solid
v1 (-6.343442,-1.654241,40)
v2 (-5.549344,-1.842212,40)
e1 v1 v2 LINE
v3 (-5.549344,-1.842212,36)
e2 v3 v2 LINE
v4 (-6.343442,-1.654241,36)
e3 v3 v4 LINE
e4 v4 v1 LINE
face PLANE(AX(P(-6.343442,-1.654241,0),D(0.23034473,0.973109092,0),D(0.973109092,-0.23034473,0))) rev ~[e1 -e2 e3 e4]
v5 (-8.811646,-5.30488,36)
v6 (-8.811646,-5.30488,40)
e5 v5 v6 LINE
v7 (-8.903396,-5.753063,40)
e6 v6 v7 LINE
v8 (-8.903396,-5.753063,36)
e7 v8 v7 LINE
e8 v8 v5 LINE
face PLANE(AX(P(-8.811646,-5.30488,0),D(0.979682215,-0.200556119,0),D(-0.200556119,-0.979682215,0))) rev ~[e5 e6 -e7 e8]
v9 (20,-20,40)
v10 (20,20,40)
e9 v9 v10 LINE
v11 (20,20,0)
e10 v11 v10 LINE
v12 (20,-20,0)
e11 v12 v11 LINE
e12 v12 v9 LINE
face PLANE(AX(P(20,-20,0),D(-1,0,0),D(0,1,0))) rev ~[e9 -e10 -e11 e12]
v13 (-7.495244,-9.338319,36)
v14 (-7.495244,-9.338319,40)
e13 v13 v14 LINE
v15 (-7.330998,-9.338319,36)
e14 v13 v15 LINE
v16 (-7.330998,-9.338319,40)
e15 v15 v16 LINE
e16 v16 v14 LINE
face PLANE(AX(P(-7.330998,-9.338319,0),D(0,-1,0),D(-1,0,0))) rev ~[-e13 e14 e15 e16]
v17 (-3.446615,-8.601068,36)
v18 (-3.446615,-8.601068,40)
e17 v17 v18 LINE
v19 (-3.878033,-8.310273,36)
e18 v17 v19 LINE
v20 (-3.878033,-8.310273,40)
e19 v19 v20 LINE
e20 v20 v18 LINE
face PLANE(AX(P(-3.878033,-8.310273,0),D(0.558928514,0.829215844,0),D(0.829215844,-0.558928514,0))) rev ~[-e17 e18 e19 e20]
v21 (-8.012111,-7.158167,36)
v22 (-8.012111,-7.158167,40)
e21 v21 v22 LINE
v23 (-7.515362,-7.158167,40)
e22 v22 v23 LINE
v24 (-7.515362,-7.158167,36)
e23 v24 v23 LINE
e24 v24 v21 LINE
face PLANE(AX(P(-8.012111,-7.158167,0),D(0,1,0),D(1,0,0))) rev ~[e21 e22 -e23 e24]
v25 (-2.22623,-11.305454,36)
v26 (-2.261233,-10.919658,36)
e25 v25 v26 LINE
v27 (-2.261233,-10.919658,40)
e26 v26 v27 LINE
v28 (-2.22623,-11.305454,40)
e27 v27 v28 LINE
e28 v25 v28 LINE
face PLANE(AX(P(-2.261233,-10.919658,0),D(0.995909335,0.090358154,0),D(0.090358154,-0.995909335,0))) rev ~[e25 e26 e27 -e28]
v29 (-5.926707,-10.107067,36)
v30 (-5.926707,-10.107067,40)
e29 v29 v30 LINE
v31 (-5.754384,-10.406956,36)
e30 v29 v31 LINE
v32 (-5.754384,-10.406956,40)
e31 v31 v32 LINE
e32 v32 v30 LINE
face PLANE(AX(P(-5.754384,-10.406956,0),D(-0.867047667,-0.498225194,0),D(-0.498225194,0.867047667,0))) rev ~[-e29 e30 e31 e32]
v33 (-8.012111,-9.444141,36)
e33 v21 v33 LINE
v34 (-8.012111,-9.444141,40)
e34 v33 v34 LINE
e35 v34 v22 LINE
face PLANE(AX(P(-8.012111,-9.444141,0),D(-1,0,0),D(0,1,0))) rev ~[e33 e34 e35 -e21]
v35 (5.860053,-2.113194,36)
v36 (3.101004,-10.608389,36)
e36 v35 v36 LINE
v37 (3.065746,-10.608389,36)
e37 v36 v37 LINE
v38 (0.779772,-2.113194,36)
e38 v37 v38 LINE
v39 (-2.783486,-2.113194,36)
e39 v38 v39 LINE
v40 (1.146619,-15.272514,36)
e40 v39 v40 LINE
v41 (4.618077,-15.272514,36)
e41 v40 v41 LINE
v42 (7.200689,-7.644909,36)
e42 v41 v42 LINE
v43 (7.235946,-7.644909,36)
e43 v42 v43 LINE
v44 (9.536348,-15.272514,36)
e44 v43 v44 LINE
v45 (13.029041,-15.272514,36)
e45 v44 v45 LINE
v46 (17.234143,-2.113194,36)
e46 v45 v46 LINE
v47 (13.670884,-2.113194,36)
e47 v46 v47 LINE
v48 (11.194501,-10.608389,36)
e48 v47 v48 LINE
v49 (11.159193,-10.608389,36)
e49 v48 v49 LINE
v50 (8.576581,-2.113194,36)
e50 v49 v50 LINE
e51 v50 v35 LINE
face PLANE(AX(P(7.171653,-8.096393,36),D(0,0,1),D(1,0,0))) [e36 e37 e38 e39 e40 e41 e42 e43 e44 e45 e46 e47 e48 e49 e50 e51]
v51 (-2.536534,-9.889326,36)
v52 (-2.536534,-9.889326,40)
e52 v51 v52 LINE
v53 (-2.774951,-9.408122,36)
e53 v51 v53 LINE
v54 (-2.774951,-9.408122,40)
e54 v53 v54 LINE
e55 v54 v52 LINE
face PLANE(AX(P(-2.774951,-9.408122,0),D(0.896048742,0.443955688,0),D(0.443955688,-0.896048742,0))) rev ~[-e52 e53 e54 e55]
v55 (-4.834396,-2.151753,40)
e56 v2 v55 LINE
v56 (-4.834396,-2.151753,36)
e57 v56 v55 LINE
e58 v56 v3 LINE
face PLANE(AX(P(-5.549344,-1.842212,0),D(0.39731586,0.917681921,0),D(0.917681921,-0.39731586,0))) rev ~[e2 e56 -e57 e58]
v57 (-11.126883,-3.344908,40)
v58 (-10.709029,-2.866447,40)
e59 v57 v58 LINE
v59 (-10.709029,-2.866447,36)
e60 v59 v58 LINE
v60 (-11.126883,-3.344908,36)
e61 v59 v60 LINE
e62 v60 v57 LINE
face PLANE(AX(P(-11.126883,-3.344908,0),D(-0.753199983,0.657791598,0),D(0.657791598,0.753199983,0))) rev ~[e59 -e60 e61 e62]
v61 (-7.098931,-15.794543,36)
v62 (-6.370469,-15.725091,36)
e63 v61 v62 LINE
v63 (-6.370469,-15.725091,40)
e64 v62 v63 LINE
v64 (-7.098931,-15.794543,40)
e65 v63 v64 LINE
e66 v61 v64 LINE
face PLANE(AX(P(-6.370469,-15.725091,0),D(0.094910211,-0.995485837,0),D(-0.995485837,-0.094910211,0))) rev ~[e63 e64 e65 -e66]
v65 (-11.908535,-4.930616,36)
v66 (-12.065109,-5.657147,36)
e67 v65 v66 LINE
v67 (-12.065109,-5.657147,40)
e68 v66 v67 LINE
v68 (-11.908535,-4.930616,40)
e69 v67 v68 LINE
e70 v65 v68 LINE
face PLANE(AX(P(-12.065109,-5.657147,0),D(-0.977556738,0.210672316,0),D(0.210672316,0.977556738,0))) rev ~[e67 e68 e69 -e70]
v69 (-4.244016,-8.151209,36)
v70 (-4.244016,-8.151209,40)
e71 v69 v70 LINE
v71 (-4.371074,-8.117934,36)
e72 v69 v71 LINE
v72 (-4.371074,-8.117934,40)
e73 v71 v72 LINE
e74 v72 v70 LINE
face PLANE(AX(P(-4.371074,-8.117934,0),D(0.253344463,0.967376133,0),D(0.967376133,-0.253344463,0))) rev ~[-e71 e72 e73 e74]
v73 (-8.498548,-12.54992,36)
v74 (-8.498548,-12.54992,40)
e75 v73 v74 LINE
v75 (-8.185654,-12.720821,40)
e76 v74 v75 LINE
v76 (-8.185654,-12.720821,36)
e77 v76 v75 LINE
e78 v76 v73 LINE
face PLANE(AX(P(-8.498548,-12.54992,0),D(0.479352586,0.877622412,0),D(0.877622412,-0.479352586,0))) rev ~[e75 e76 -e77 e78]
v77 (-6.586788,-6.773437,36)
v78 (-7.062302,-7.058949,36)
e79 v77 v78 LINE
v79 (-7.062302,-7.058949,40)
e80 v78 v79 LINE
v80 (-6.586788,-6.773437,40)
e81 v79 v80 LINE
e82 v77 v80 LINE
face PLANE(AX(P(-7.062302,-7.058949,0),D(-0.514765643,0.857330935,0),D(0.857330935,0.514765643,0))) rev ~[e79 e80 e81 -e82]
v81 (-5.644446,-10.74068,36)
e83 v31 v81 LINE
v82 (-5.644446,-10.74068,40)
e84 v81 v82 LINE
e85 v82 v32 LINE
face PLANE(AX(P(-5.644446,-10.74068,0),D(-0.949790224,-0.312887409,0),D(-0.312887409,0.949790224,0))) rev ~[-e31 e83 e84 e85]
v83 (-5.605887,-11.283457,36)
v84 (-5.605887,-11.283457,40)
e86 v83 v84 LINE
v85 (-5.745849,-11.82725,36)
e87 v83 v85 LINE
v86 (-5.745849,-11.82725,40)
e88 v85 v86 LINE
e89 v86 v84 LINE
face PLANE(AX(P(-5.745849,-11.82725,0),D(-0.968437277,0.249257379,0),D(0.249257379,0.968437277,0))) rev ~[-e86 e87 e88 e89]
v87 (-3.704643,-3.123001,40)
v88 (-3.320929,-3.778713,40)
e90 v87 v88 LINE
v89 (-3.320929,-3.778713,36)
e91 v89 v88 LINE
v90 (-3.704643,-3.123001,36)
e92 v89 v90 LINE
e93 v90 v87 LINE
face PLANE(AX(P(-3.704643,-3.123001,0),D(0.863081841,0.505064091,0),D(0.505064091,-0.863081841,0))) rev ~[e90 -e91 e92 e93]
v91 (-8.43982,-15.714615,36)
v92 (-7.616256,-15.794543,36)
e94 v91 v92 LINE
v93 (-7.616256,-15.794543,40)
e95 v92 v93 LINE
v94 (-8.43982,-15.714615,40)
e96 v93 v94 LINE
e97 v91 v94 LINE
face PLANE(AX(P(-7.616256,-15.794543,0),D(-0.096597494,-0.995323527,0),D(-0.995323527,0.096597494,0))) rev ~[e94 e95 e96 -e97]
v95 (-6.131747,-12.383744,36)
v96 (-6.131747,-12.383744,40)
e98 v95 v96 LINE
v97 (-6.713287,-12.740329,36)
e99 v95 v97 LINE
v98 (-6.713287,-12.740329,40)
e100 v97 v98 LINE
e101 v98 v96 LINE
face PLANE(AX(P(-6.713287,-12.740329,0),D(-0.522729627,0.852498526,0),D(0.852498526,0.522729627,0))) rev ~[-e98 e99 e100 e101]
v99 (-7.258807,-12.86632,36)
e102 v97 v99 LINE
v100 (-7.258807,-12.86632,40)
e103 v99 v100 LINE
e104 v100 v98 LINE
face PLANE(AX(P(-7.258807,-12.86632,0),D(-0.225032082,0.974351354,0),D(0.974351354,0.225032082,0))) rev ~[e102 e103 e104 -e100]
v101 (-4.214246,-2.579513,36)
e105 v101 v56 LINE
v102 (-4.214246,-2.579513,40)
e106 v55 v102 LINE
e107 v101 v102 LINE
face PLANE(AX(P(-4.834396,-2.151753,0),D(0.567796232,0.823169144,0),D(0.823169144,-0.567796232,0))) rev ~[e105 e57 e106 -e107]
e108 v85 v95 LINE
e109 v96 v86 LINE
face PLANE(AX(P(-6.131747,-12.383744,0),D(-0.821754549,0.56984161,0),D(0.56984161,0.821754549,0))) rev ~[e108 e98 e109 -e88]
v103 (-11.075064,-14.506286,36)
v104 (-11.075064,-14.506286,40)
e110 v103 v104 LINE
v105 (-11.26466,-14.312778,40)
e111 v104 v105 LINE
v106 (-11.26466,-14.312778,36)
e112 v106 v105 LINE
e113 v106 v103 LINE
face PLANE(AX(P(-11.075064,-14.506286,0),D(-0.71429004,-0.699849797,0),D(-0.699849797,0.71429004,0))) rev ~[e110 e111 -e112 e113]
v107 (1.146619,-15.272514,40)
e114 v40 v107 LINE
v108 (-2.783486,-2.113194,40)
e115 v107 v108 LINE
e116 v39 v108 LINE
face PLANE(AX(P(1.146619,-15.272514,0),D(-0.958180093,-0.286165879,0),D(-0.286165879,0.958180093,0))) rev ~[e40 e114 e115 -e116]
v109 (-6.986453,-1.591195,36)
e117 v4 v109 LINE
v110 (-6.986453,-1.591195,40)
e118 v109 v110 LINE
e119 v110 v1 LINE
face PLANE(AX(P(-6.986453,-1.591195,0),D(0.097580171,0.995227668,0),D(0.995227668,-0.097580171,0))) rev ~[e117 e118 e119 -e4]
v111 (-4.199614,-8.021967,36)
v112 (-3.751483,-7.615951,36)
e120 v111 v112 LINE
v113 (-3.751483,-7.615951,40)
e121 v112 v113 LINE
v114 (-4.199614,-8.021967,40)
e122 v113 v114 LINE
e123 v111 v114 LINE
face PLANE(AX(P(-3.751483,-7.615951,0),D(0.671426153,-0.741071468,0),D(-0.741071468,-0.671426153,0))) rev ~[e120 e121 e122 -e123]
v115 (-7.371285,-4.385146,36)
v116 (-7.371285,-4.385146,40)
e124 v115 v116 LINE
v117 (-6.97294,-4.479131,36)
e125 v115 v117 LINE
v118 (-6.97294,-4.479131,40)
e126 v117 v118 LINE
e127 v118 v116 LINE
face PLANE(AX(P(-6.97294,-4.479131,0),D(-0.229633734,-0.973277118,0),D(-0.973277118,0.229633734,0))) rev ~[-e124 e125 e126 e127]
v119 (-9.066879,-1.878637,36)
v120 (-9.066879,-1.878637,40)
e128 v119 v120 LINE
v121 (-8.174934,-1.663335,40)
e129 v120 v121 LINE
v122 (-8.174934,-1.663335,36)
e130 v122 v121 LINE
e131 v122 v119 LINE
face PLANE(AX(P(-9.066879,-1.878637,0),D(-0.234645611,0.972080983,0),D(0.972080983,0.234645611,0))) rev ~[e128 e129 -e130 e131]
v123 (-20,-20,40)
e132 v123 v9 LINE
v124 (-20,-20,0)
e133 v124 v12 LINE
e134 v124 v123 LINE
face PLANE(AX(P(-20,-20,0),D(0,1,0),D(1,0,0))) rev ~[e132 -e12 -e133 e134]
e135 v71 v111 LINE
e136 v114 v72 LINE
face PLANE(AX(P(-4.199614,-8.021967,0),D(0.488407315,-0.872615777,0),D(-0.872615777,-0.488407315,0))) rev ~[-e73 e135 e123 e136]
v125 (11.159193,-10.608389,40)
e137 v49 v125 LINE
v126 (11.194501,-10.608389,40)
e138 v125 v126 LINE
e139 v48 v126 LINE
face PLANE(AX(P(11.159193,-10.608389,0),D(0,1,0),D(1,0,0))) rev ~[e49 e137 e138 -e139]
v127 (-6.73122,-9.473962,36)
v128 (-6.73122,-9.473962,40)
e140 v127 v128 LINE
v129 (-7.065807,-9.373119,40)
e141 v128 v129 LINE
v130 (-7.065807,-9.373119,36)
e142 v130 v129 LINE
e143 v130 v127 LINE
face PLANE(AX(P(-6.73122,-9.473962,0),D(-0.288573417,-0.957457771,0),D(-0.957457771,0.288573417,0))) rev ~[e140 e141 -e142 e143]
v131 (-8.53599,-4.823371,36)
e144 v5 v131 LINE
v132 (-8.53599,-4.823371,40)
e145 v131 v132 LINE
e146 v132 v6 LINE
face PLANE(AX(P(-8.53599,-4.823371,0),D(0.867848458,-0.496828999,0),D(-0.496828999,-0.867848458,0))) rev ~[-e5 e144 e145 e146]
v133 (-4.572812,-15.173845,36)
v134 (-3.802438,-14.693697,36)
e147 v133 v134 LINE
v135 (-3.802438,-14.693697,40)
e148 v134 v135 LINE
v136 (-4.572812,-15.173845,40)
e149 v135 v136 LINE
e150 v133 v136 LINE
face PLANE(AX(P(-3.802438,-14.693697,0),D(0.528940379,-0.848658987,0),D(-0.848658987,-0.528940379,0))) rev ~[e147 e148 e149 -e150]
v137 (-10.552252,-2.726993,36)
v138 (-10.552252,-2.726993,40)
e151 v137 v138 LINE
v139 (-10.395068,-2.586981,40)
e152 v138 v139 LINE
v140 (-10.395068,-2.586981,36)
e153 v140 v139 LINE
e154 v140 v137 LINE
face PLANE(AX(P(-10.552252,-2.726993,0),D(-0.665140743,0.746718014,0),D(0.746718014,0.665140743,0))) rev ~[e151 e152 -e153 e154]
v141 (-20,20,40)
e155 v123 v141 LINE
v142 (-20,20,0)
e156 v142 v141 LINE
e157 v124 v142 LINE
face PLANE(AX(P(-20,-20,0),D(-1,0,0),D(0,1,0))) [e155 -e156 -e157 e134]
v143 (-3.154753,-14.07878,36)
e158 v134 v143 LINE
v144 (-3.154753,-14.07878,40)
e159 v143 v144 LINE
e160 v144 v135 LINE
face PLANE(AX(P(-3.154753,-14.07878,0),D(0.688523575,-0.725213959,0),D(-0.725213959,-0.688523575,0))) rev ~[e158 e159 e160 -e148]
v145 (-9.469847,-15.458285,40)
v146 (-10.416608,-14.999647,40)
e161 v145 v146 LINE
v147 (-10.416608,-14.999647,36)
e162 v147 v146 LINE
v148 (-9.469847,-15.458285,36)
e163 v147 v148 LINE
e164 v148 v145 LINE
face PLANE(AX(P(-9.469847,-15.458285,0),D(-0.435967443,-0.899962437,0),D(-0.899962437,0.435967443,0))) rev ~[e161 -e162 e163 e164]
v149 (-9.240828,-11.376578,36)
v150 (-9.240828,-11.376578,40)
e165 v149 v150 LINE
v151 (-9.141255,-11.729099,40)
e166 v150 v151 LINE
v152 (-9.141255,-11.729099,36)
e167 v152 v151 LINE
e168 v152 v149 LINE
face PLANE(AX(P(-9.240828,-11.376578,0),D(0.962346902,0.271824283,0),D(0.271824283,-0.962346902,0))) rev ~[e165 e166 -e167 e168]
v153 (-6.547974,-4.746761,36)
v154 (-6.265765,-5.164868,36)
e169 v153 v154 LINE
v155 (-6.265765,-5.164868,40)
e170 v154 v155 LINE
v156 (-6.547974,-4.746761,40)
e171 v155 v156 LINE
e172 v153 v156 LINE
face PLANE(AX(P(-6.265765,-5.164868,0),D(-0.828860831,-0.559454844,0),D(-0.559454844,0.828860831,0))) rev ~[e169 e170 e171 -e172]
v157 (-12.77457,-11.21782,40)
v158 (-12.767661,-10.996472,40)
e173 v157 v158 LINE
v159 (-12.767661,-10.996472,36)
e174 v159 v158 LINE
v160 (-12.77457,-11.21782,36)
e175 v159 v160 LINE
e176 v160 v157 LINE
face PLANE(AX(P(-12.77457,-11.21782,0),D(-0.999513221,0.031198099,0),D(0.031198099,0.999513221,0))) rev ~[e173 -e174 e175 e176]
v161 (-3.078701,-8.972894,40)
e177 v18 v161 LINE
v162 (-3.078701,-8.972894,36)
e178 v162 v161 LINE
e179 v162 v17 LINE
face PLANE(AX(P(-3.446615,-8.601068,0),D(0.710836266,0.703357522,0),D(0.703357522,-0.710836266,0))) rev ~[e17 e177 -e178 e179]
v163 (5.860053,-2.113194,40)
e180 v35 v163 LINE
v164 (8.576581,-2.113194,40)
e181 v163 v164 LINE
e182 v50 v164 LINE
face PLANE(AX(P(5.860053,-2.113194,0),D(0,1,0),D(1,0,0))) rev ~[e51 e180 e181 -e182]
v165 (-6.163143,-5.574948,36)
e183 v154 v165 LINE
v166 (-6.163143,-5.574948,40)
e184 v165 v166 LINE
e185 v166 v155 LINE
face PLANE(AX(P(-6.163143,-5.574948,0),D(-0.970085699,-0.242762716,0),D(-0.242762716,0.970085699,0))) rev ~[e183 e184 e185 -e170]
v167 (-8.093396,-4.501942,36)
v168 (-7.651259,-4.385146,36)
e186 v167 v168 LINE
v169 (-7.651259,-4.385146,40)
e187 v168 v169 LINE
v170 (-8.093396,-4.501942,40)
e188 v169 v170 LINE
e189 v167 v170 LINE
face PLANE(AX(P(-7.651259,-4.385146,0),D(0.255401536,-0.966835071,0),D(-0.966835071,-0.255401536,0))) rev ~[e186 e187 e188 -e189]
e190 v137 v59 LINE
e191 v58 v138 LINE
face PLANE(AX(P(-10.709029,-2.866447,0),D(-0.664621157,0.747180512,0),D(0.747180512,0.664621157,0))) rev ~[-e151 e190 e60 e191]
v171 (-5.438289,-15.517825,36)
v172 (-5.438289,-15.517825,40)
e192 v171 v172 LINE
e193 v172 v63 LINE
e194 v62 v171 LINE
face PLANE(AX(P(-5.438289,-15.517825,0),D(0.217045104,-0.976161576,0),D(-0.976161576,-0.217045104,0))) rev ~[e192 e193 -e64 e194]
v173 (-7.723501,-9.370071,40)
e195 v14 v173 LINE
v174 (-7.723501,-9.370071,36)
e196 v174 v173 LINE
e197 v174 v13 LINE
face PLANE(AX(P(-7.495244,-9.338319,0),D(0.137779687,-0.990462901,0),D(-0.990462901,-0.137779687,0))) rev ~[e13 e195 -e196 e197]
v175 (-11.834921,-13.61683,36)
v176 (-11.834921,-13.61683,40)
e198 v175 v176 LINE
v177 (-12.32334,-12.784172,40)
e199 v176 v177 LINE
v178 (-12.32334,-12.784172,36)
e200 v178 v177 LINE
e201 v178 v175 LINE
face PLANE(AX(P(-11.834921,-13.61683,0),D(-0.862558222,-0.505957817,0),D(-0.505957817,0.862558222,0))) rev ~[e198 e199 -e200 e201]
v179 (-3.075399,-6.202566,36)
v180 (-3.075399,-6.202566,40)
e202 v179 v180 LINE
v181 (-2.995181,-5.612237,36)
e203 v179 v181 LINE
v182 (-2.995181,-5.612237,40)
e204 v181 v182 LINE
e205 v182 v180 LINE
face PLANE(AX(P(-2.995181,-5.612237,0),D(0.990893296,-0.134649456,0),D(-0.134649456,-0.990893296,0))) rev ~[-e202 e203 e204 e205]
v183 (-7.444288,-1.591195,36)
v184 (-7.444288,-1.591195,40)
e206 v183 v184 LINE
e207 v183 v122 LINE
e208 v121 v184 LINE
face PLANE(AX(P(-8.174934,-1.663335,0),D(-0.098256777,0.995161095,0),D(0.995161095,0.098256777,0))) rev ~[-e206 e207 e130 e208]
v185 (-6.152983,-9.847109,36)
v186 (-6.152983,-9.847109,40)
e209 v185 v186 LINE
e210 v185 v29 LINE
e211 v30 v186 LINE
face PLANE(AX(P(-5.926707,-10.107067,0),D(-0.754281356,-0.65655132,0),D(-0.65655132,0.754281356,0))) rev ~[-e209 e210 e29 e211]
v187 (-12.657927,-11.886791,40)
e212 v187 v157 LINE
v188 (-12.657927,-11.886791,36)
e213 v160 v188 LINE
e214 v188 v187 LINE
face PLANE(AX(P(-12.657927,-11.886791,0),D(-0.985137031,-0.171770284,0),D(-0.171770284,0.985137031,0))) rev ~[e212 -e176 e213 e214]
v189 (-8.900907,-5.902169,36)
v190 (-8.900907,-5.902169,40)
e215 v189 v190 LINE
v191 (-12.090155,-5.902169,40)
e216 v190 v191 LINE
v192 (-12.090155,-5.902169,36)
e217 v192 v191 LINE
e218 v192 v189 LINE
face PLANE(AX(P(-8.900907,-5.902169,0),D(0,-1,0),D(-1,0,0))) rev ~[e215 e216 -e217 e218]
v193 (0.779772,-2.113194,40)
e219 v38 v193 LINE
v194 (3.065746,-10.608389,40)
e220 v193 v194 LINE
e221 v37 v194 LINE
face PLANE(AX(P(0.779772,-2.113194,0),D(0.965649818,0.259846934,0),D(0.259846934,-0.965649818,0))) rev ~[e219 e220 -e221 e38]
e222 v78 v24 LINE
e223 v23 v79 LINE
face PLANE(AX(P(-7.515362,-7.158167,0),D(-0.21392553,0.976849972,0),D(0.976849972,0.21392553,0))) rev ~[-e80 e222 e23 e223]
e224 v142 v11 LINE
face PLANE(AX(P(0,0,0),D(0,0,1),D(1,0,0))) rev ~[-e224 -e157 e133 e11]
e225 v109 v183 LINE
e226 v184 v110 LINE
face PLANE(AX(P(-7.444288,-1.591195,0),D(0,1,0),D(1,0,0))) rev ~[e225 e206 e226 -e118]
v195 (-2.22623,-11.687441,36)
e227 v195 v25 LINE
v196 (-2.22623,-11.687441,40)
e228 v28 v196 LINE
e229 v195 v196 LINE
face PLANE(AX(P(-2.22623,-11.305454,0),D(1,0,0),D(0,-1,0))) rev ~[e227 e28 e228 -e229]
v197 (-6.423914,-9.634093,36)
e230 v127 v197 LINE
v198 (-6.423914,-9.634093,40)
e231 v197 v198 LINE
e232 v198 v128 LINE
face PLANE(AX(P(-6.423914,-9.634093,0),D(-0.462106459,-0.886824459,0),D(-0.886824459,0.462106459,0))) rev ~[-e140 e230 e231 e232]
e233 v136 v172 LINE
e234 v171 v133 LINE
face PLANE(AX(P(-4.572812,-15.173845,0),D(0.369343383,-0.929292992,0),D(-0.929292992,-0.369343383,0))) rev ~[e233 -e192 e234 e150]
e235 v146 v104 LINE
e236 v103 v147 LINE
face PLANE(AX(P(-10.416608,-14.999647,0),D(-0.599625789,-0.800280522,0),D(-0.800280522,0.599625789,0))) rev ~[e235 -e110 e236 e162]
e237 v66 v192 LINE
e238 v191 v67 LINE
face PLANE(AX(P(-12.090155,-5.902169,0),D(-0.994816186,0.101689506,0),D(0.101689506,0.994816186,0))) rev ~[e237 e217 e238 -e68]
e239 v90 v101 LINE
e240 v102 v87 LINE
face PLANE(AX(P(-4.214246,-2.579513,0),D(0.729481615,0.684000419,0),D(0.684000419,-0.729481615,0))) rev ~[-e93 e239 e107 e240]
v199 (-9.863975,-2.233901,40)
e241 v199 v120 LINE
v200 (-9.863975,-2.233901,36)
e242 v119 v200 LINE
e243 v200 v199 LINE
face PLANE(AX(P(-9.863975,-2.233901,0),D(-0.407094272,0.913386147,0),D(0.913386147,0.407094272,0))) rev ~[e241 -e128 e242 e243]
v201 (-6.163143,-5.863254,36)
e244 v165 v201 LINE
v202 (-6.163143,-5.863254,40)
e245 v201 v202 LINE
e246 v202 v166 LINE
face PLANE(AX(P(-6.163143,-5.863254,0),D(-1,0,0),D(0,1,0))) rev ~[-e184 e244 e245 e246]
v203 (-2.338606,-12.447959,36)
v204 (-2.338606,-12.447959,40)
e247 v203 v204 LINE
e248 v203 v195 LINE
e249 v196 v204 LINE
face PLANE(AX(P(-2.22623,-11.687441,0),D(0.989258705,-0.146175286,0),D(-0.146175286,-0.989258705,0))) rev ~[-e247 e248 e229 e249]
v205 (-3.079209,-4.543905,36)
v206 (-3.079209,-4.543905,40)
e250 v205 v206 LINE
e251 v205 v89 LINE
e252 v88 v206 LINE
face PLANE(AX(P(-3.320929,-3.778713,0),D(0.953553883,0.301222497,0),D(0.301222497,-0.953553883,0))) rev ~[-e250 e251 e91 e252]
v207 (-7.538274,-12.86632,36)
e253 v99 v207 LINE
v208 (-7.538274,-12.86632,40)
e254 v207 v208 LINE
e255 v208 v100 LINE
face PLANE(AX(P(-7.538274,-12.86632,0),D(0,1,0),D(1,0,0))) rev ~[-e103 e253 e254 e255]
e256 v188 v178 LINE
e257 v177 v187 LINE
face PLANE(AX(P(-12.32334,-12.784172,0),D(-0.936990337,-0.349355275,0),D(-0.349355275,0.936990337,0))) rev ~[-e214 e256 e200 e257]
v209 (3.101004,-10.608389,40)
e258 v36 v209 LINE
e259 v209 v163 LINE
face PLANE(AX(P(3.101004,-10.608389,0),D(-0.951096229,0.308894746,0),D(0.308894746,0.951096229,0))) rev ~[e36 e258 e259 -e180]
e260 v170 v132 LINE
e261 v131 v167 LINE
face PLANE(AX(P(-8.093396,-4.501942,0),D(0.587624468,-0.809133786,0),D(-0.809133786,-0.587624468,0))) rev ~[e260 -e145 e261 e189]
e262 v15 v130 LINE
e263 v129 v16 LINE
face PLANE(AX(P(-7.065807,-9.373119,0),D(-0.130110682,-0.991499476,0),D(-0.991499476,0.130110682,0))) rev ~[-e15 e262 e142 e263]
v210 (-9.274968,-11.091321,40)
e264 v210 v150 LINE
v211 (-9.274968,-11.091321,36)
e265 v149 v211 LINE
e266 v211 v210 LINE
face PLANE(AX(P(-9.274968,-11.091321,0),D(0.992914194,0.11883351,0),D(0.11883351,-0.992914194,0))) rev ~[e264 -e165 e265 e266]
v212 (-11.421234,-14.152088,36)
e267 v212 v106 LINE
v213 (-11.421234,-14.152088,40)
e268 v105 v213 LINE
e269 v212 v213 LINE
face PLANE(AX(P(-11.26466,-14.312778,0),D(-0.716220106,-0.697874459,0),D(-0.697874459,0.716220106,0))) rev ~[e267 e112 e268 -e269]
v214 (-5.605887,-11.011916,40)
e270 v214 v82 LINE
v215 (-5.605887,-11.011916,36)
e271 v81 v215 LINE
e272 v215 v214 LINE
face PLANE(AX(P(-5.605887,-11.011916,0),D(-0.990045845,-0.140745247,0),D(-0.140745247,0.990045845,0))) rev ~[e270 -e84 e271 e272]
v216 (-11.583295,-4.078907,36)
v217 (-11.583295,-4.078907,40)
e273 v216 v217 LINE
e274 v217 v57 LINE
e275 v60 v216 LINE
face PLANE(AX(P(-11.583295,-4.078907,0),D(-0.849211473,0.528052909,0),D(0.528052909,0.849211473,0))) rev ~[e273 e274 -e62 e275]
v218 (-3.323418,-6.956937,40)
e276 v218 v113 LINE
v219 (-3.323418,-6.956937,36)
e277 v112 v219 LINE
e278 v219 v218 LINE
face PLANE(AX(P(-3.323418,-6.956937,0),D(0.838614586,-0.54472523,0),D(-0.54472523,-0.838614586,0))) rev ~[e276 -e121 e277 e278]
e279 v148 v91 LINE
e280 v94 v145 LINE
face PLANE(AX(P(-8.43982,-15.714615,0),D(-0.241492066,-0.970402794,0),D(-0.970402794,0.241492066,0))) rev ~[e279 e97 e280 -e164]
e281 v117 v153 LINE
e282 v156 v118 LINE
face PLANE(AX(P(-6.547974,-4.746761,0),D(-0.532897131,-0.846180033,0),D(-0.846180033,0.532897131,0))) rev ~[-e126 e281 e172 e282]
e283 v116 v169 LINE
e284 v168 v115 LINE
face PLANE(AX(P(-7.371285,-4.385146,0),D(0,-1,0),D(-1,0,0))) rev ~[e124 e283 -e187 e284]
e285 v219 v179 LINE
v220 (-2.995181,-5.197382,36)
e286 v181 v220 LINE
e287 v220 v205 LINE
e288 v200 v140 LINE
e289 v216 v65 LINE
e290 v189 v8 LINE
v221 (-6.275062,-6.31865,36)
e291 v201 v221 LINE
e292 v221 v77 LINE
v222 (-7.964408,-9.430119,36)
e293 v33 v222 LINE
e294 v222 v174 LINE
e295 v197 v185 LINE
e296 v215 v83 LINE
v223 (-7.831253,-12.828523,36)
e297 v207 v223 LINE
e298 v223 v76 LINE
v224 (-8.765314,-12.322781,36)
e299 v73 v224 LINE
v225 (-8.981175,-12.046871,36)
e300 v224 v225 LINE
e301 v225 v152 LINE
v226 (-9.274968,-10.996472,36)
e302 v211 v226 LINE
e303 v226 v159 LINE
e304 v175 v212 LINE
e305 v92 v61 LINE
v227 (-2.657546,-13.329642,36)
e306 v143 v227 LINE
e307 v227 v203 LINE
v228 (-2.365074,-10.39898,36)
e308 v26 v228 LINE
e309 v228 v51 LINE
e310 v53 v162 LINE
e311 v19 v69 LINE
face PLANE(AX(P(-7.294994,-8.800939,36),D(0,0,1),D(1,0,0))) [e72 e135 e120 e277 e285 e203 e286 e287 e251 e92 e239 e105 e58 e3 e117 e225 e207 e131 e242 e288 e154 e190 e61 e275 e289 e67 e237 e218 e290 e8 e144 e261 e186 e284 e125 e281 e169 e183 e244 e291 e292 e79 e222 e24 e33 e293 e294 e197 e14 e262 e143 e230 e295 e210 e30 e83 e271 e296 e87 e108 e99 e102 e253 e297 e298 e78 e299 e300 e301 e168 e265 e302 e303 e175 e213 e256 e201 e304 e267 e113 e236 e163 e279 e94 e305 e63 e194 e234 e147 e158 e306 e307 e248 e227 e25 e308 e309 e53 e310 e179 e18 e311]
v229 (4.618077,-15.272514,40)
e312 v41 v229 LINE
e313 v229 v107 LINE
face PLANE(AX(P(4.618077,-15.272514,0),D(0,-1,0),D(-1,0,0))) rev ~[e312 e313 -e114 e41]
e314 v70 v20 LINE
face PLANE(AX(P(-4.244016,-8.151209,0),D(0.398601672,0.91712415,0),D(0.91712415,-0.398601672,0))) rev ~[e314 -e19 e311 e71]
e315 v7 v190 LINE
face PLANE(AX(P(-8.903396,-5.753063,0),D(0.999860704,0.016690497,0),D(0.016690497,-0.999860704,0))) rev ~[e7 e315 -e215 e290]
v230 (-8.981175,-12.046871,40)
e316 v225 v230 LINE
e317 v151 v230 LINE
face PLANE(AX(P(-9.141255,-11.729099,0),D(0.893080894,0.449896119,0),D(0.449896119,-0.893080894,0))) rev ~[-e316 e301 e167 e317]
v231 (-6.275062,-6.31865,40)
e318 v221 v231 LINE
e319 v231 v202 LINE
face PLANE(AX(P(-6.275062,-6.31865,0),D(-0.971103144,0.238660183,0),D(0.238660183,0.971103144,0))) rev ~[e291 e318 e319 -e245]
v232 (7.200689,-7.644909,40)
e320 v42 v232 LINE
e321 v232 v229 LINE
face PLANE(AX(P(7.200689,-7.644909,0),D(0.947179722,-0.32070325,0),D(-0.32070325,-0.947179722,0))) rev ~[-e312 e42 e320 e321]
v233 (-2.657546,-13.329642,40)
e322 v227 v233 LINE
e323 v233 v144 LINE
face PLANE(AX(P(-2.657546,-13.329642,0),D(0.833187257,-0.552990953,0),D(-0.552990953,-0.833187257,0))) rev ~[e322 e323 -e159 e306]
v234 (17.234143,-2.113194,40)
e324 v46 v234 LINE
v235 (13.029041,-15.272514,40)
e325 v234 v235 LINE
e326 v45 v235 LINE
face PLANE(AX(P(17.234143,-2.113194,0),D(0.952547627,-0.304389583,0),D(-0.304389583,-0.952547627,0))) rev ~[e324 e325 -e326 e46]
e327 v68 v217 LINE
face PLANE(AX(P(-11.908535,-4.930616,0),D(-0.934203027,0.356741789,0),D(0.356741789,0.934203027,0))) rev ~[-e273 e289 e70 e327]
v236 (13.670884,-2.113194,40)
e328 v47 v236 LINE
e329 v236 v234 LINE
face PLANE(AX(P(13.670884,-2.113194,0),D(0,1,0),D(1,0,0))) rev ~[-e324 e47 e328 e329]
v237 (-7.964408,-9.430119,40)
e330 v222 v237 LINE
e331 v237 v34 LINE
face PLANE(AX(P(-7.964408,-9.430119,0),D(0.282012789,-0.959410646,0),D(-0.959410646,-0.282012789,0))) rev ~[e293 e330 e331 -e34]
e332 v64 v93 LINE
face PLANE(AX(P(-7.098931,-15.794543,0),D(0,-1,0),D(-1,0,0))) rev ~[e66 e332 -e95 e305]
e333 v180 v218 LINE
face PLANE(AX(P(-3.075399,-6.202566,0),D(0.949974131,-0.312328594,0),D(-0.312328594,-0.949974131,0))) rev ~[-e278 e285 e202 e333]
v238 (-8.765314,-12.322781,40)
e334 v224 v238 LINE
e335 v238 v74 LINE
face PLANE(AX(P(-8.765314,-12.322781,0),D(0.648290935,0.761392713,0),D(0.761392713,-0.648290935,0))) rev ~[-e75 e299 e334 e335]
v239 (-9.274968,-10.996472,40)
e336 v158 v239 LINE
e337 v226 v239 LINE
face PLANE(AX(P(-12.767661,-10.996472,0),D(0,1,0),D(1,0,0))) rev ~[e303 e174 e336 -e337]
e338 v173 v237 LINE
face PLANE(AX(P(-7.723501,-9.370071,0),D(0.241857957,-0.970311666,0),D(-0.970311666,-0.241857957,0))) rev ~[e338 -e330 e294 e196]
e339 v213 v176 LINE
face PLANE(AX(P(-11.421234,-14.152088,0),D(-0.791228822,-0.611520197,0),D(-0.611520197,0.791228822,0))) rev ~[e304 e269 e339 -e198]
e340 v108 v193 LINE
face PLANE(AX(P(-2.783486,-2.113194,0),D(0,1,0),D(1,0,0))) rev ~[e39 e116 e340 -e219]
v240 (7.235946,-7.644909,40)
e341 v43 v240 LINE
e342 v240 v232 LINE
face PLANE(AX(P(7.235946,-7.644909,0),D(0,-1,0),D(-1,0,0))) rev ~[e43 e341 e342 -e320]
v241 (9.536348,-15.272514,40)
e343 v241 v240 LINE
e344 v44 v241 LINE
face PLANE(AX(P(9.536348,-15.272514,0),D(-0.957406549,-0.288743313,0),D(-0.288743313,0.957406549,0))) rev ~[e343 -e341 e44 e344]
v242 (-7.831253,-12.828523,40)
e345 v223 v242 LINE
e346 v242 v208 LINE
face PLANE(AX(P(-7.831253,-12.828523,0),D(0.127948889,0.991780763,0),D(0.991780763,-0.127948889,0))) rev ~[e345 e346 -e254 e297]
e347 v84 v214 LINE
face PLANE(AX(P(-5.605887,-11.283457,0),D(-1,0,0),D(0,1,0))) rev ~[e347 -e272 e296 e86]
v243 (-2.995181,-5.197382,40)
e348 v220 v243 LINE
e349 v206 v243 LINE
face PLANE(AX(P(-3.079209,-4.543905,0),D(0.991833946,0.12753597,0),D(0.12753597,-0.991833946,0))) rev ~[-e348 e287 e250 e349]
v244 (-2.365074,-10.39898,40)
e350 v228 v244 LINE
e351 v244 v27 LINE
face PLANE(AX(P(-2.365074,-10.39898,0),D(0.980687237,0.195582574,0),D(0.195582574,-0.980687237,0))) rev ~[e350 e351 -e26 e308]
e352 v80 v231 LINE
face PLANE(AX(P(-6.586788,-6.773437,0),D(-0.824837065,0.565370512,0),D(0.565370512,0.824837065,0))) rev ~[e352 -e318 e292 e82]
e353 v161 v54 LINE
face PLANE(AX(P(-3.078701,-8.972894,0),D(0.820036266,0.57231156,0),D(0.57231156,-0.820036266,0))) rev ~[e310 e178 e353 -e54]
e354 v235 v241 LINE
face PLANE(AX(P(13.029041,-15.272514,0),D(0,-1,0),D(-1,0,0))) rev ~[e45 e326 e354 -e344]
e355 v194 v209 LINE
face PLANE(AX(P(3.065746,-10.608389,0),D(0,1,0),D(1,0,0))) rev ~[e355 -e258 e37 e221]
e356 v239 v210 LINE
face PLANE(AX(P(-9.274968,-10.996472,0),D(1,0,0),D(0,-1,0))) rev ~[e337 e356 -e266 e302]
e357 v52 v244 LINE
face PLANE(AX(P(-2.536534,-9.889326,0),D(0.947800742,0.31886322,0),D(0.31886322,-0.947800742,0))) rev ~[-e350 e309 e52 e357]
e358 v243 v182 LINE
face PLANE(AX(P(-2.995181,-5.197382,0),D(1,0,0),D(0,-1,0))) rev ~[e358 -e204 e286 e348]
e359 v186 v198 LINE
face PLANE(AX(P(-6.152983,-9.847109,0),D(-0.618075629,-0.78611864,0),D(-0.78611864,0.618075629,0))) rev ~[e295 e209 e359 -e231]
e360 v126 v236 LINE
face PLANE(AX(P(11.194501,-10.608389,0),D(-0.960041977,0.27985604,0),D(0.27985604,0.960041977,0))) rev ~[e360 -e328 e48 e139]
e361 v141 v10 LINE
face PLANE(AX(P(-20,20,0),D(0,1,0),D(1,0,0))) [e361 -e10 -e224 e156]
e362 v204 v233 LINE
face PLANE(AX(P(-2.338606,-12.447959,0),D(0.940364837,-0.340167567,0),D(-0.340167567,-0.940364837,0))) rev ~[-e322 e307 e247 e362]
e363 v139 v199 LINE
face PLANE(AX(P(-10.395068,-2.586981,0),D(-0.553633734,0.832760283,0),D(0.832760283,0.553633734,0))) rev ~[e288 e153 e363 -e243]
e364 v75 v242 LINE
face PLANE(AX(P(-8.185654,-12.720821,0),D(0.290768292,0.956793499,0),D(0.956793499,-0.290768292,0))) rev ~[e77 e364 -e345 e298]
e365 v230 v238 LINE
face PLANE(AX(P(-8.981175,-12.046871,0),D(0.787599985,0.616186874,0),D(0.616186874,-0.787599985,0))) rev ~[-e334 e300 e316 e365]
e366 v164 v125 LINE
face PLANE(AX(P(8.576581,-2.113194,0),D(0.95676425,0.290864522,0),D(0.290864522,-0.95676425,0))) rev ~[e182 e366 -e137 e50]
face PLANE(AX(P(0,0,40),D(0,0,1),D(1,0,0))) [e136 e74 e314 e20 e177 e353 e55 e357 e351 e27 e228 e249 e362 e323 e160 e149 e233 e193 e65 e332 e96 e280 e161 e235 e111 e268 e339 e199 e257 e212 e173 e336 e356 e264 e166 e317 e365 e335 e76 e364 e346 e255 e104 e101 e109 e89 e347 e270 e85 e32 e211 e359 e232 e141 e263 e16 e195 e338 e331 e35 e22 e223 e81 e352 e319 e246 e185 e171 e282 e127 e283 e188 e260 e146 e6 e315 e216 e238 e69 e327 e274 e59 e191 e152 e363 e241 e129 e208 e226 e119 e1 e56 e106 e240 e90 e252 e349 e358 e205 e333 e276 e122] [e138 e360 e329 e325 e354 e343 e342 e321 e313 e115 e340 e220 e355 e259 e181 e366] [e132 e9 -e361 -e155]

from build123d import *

# Parameters (mm, degrees)
F1_DEPTH = 36
F0_W     = 40
F0_H     = 40
F2_DEPTH = 40


with BuildPart() as f1:
    # F0 (on Top) → F1 (new body)
    with BuildSketch(Plane.XY):
        Polygon((3.101004, -10.608389), (3.065746, -10.608389), (0.779772, -2.113194), (-2.783486, -2.113194), (1.146619, -15.272514), (4.618077, -15.272514), (7.200689, -7.644909), (7.235946, -7.644909), (9.536348, -15.272514), (13.029041, -15.272514), (17.234143, -2.113194), (13.670884, -2.113194), (11.194501, -10.608389), (11.159193, -10.608389), (8.576581, -2.113194), (5.860053, -2.113194), align=None)
        Polygon((-12.065109, -5.657147), (-12.090155, -5.902169), (-8.900907, -5.902169), (-8.903396, -5.753063), (-8.811646, -5.30488), (-8.53599, -4.823371), (-8.093396, -4.501942), (-7.651259, -4.385146), (-7.503778, -4.385146), (-7.371285, -4.385146), (-6.97294, -4.479131), (-6.547974, -4.746761), (-6.265765, -5.164868), (-6.163143, -5.574948), (-6.163143, -5.711709), (-6.163143, -5.863254), (-6.275062, -6.31865), (-6.586788, -6.773437), (-7.062302, -7.058949), (-7.515362, -7.158167), (-7.666144, -7.158167), (-8.012111, -7.158167), (-8.012111, -9.444141), (-7.964408, -9.430119), (-7.723501, -9.370071), (-7.495244, -9.338319), (-7.419192, -9.338319), (-7.330998, -9.338319), (-7.065807, -9.373119), (-6.73122, -9.473962), (-6.423914, -9.634093), (-6.152983, -9.847109), (-5.926707, -10.107067), (-5.754384, -10.406956), (-5.644446, -10.74068), (-5.605887, -11.011916), (-5.605887, -11.102294), (-5.605887, -11.283457), (-5.745849, -11.82725), (-6.131747, -12.383744), (-6.713287, -12.740329), (-7.258807, -12.86632), (-7.440427, -12.86632), (-7.538274, -12.86632), (-7.831253, -12.828523), (-8.185654, -12.720821), (-8.498548, -12.54992), (-8.765314, -12.322781), (-8.981175, -12.046871), (-9.141255, -11.729099), (-9.240828, -11.376578), (-9.274968, -11.091321), (-9.274968, -10.996472), (-12.767661, -10.996472), (-12.77457, -11.21782), (-12.657927, -11.886791), (-12.32334, -12.784172), (-11.834921, -13.61683), (-11.421234, -14.152088), (-11.26466, -14.312778), (-11.075064, -14.506286), (-10.416608, -14.999647), (-9.469847, -15.458285), (-8.43982, -15.714615), (-7.616256, -15.794543), (-7.341768, -15.794543), (-7.098931, -15.794543), (-6.370469, -15.725091), (-5.438289, -15.517825), (-4.572812, -15.173845), (-3.802438, -14.693697), (-3.154753, -14.07878), (-2.657546, -13.329642), (-2.338606, -12.447959), (-2.22623, -11.687441), (-2.22623, -11.43424), (-2.22623, -11.305454), (-2.261233, -10.919658), (-2.365074, -10.39898), (-2.536534, -9.889326), (-2.774951, -9.408122), (-3.078701, -8.972894), (-3.446615, -8.601068), (-3.878033, -8.310273), (-4.244016, -8.151209), (-4.371074, -8.117934), (-4.199614, -8.021967), (-3.751483, -7.615951), (-3.323418, -6.956937), (-3.075399, -6.202566), (-2.995181, -5.612237), (-2.995181, -5.415427), (-2.995181, -5.197382), (-3.079209, -4.543905), (-3.320929, -3.778713), (-3.704643, -3.123001), (-4.214246, -2.579513), (-4.834396, -2.151753), (-5.549344, -1.842212), (-6.343442, -1.654241), (-6.986453, -1.591195), (-7.200638, -1.591195), (-7.444288, -1.591195), (-8.174934, -1.663335), (-9.066879, -1.878637), (-9.863975, -2.233901), (-10.395068, -2.586981), (-10.552252, -2.726993), (-10.709029, -2.866447), (-11.126883, -3.344908), (-11.583295, -4.078907), (-11.908535, -4.930616), align=None)
    extrude(amount=F1_DEPTH)

    # F0 (on Top) → F2 (join)
    with BuildSketch(Plane.XY):
        Rectangle(F0_W, F0_H)
        Polygon((-8.900907, -5.902169), (-12.090155, -5.902169), (-12.065109, -5.657147), (-11.908535, -4.930616), (-11.583295, -4.078907), (-11.126883, -3.344908), (-10.709029, -2.866447), (-10.552252, -2.726993), (-10.395068, -2.586981), (-9.863975, -2.233901), (-9.066879, -1.878637), (-8.174934, -1.663335), (-7.444288, -1.591195), (-7.200638, -1.591195), (-6.986453, -1.591195), (-6.343442, -1.654241), (-5.549344, -1.842212), (-4.834396, -2.151753), (-4.214246, -2.579513), (-3.704643, -3.123001), (-3.320929, -3.778713), (-3.079209, -4.543905), (-2.995181, -5.197382), (-2.995181, -5.415427), (-2.995181, -5.612237), (-3.075399, -6.202566), (-3.323418, -6.956937), (-3.751483, -7.615951), (-4.199614, -8.021967), (-4.371074, -8.117934), (-4.244016, -8.151209), (-3.878033, -8.310273), (-3.446615, -8.601068), (-3.078701, -8.972894), (-2.774951, -9.408122), (-2.536534, -9.889326), (-2.365074, -10.39898), (-2.261233, -10.919658), (-2.22623, -11.305454), (-2.22623, -11.43424), (-2.22623, -11.687441), (-2.338606, -12.447959), (-2.657546, -13.329642), (-3.154753, -14.07878), (-3.802438, -14.693697), (-4.572812, -15.173845), (-5.438289, -15.517825), (-6.370469, -15.725091), (-7.098931, -15.794543), (-7.341768, -15.794543), (-7.616256, -15.794543), (-8.43982, -15.714615), (-9.469847, -15.458285), (-10.416608, -14.999647), (-11.075064, -14.506286), (-11.26466, -14.312778), (-11.421234, -14.152088), (-11.834921, -13.61683), (-12.32334, -12.784172), (-12.657927, -11.886791), (-12.77457, -11.21782), (-12.767661, -10.996472), (-9.274968, -10.996472), (-9.274968, -11.091321), (-9.240828, -11.376578), (-9.141255, -11.729099), (-8.981175, -12.046871), (-8.765314, -12.322781), (-8.498548, -12.54992), (-8.185654, -12.720821), (-7.831253, -12.828523), (-7.538274, -12.86632), (-7.440427, -12.86632), (-7.258807, -12.86632), (-6.713287, -12.740329), (-6.131747, -12.383744), (-5.745849, -11.82725), (-5.605887, -11.283457), (-5.605887, -11.102294), (-5.605887, -11.011916), (-5.644446, -10.74068), (-5.754384, -10.406956), (-5.926707, -10.107067), (-6.152983, -9.847109), (-6.423914, -9.634093), (-6.73122, -9.473962), (-7.065807, -9.373119), (-7.330998, -9.338319), (-7.419192, -9.338319), (-7.495244, -9.338319), (-7.723501, -9.370071), (-7.964408, -9.430119), (-8.012111, -9.444141), (-8.012111, -7.158167), (-7.666144, -7.158167), (-7.515362, -7.158167), (-7.062302, -7.058949), (-6.586788, -6.773437), (-6.275062, -6.31865), (-6.163143, -5.863254), (-6.163143, -5.711709), (-6.163143, -5.574948), (-6.265765, -5.164868), (-6.547974, -4.746761), (-6.97294, -4.479131), (-7.371285, -4.385146), (-7.503778, -4.385146), (-7.651259, -4.385146), (-8.093396, -4.501942), (-8.53599, -4.823371), (-8.811646, -5.30488), (-8.903396, -5.753063), align=None, mode=Mode.SUBTRACT)
        Polygon((0.779772, -2.113194), (3.065746, -10.608389), (3.101004, -10.608389), (5.860053, -2.113194), (8.576581, -2.113194), (11.159193, -10.608389), (11.194501, -10.608389), (13.670884, -2.113194), (17.234143, -2.113194), (13.029041, -15.272514), (9.536348, -15.272514), (7.235946, -7.644909), (7.200689, -7.644909), (4.618077, -15.272514), (1.146619, -15.272514), (-2.783486, -2.113194), align=None, mode=Mode.SUBTRACT)
    extrude(amount=F2_DEPTH)


solid = f1.part
